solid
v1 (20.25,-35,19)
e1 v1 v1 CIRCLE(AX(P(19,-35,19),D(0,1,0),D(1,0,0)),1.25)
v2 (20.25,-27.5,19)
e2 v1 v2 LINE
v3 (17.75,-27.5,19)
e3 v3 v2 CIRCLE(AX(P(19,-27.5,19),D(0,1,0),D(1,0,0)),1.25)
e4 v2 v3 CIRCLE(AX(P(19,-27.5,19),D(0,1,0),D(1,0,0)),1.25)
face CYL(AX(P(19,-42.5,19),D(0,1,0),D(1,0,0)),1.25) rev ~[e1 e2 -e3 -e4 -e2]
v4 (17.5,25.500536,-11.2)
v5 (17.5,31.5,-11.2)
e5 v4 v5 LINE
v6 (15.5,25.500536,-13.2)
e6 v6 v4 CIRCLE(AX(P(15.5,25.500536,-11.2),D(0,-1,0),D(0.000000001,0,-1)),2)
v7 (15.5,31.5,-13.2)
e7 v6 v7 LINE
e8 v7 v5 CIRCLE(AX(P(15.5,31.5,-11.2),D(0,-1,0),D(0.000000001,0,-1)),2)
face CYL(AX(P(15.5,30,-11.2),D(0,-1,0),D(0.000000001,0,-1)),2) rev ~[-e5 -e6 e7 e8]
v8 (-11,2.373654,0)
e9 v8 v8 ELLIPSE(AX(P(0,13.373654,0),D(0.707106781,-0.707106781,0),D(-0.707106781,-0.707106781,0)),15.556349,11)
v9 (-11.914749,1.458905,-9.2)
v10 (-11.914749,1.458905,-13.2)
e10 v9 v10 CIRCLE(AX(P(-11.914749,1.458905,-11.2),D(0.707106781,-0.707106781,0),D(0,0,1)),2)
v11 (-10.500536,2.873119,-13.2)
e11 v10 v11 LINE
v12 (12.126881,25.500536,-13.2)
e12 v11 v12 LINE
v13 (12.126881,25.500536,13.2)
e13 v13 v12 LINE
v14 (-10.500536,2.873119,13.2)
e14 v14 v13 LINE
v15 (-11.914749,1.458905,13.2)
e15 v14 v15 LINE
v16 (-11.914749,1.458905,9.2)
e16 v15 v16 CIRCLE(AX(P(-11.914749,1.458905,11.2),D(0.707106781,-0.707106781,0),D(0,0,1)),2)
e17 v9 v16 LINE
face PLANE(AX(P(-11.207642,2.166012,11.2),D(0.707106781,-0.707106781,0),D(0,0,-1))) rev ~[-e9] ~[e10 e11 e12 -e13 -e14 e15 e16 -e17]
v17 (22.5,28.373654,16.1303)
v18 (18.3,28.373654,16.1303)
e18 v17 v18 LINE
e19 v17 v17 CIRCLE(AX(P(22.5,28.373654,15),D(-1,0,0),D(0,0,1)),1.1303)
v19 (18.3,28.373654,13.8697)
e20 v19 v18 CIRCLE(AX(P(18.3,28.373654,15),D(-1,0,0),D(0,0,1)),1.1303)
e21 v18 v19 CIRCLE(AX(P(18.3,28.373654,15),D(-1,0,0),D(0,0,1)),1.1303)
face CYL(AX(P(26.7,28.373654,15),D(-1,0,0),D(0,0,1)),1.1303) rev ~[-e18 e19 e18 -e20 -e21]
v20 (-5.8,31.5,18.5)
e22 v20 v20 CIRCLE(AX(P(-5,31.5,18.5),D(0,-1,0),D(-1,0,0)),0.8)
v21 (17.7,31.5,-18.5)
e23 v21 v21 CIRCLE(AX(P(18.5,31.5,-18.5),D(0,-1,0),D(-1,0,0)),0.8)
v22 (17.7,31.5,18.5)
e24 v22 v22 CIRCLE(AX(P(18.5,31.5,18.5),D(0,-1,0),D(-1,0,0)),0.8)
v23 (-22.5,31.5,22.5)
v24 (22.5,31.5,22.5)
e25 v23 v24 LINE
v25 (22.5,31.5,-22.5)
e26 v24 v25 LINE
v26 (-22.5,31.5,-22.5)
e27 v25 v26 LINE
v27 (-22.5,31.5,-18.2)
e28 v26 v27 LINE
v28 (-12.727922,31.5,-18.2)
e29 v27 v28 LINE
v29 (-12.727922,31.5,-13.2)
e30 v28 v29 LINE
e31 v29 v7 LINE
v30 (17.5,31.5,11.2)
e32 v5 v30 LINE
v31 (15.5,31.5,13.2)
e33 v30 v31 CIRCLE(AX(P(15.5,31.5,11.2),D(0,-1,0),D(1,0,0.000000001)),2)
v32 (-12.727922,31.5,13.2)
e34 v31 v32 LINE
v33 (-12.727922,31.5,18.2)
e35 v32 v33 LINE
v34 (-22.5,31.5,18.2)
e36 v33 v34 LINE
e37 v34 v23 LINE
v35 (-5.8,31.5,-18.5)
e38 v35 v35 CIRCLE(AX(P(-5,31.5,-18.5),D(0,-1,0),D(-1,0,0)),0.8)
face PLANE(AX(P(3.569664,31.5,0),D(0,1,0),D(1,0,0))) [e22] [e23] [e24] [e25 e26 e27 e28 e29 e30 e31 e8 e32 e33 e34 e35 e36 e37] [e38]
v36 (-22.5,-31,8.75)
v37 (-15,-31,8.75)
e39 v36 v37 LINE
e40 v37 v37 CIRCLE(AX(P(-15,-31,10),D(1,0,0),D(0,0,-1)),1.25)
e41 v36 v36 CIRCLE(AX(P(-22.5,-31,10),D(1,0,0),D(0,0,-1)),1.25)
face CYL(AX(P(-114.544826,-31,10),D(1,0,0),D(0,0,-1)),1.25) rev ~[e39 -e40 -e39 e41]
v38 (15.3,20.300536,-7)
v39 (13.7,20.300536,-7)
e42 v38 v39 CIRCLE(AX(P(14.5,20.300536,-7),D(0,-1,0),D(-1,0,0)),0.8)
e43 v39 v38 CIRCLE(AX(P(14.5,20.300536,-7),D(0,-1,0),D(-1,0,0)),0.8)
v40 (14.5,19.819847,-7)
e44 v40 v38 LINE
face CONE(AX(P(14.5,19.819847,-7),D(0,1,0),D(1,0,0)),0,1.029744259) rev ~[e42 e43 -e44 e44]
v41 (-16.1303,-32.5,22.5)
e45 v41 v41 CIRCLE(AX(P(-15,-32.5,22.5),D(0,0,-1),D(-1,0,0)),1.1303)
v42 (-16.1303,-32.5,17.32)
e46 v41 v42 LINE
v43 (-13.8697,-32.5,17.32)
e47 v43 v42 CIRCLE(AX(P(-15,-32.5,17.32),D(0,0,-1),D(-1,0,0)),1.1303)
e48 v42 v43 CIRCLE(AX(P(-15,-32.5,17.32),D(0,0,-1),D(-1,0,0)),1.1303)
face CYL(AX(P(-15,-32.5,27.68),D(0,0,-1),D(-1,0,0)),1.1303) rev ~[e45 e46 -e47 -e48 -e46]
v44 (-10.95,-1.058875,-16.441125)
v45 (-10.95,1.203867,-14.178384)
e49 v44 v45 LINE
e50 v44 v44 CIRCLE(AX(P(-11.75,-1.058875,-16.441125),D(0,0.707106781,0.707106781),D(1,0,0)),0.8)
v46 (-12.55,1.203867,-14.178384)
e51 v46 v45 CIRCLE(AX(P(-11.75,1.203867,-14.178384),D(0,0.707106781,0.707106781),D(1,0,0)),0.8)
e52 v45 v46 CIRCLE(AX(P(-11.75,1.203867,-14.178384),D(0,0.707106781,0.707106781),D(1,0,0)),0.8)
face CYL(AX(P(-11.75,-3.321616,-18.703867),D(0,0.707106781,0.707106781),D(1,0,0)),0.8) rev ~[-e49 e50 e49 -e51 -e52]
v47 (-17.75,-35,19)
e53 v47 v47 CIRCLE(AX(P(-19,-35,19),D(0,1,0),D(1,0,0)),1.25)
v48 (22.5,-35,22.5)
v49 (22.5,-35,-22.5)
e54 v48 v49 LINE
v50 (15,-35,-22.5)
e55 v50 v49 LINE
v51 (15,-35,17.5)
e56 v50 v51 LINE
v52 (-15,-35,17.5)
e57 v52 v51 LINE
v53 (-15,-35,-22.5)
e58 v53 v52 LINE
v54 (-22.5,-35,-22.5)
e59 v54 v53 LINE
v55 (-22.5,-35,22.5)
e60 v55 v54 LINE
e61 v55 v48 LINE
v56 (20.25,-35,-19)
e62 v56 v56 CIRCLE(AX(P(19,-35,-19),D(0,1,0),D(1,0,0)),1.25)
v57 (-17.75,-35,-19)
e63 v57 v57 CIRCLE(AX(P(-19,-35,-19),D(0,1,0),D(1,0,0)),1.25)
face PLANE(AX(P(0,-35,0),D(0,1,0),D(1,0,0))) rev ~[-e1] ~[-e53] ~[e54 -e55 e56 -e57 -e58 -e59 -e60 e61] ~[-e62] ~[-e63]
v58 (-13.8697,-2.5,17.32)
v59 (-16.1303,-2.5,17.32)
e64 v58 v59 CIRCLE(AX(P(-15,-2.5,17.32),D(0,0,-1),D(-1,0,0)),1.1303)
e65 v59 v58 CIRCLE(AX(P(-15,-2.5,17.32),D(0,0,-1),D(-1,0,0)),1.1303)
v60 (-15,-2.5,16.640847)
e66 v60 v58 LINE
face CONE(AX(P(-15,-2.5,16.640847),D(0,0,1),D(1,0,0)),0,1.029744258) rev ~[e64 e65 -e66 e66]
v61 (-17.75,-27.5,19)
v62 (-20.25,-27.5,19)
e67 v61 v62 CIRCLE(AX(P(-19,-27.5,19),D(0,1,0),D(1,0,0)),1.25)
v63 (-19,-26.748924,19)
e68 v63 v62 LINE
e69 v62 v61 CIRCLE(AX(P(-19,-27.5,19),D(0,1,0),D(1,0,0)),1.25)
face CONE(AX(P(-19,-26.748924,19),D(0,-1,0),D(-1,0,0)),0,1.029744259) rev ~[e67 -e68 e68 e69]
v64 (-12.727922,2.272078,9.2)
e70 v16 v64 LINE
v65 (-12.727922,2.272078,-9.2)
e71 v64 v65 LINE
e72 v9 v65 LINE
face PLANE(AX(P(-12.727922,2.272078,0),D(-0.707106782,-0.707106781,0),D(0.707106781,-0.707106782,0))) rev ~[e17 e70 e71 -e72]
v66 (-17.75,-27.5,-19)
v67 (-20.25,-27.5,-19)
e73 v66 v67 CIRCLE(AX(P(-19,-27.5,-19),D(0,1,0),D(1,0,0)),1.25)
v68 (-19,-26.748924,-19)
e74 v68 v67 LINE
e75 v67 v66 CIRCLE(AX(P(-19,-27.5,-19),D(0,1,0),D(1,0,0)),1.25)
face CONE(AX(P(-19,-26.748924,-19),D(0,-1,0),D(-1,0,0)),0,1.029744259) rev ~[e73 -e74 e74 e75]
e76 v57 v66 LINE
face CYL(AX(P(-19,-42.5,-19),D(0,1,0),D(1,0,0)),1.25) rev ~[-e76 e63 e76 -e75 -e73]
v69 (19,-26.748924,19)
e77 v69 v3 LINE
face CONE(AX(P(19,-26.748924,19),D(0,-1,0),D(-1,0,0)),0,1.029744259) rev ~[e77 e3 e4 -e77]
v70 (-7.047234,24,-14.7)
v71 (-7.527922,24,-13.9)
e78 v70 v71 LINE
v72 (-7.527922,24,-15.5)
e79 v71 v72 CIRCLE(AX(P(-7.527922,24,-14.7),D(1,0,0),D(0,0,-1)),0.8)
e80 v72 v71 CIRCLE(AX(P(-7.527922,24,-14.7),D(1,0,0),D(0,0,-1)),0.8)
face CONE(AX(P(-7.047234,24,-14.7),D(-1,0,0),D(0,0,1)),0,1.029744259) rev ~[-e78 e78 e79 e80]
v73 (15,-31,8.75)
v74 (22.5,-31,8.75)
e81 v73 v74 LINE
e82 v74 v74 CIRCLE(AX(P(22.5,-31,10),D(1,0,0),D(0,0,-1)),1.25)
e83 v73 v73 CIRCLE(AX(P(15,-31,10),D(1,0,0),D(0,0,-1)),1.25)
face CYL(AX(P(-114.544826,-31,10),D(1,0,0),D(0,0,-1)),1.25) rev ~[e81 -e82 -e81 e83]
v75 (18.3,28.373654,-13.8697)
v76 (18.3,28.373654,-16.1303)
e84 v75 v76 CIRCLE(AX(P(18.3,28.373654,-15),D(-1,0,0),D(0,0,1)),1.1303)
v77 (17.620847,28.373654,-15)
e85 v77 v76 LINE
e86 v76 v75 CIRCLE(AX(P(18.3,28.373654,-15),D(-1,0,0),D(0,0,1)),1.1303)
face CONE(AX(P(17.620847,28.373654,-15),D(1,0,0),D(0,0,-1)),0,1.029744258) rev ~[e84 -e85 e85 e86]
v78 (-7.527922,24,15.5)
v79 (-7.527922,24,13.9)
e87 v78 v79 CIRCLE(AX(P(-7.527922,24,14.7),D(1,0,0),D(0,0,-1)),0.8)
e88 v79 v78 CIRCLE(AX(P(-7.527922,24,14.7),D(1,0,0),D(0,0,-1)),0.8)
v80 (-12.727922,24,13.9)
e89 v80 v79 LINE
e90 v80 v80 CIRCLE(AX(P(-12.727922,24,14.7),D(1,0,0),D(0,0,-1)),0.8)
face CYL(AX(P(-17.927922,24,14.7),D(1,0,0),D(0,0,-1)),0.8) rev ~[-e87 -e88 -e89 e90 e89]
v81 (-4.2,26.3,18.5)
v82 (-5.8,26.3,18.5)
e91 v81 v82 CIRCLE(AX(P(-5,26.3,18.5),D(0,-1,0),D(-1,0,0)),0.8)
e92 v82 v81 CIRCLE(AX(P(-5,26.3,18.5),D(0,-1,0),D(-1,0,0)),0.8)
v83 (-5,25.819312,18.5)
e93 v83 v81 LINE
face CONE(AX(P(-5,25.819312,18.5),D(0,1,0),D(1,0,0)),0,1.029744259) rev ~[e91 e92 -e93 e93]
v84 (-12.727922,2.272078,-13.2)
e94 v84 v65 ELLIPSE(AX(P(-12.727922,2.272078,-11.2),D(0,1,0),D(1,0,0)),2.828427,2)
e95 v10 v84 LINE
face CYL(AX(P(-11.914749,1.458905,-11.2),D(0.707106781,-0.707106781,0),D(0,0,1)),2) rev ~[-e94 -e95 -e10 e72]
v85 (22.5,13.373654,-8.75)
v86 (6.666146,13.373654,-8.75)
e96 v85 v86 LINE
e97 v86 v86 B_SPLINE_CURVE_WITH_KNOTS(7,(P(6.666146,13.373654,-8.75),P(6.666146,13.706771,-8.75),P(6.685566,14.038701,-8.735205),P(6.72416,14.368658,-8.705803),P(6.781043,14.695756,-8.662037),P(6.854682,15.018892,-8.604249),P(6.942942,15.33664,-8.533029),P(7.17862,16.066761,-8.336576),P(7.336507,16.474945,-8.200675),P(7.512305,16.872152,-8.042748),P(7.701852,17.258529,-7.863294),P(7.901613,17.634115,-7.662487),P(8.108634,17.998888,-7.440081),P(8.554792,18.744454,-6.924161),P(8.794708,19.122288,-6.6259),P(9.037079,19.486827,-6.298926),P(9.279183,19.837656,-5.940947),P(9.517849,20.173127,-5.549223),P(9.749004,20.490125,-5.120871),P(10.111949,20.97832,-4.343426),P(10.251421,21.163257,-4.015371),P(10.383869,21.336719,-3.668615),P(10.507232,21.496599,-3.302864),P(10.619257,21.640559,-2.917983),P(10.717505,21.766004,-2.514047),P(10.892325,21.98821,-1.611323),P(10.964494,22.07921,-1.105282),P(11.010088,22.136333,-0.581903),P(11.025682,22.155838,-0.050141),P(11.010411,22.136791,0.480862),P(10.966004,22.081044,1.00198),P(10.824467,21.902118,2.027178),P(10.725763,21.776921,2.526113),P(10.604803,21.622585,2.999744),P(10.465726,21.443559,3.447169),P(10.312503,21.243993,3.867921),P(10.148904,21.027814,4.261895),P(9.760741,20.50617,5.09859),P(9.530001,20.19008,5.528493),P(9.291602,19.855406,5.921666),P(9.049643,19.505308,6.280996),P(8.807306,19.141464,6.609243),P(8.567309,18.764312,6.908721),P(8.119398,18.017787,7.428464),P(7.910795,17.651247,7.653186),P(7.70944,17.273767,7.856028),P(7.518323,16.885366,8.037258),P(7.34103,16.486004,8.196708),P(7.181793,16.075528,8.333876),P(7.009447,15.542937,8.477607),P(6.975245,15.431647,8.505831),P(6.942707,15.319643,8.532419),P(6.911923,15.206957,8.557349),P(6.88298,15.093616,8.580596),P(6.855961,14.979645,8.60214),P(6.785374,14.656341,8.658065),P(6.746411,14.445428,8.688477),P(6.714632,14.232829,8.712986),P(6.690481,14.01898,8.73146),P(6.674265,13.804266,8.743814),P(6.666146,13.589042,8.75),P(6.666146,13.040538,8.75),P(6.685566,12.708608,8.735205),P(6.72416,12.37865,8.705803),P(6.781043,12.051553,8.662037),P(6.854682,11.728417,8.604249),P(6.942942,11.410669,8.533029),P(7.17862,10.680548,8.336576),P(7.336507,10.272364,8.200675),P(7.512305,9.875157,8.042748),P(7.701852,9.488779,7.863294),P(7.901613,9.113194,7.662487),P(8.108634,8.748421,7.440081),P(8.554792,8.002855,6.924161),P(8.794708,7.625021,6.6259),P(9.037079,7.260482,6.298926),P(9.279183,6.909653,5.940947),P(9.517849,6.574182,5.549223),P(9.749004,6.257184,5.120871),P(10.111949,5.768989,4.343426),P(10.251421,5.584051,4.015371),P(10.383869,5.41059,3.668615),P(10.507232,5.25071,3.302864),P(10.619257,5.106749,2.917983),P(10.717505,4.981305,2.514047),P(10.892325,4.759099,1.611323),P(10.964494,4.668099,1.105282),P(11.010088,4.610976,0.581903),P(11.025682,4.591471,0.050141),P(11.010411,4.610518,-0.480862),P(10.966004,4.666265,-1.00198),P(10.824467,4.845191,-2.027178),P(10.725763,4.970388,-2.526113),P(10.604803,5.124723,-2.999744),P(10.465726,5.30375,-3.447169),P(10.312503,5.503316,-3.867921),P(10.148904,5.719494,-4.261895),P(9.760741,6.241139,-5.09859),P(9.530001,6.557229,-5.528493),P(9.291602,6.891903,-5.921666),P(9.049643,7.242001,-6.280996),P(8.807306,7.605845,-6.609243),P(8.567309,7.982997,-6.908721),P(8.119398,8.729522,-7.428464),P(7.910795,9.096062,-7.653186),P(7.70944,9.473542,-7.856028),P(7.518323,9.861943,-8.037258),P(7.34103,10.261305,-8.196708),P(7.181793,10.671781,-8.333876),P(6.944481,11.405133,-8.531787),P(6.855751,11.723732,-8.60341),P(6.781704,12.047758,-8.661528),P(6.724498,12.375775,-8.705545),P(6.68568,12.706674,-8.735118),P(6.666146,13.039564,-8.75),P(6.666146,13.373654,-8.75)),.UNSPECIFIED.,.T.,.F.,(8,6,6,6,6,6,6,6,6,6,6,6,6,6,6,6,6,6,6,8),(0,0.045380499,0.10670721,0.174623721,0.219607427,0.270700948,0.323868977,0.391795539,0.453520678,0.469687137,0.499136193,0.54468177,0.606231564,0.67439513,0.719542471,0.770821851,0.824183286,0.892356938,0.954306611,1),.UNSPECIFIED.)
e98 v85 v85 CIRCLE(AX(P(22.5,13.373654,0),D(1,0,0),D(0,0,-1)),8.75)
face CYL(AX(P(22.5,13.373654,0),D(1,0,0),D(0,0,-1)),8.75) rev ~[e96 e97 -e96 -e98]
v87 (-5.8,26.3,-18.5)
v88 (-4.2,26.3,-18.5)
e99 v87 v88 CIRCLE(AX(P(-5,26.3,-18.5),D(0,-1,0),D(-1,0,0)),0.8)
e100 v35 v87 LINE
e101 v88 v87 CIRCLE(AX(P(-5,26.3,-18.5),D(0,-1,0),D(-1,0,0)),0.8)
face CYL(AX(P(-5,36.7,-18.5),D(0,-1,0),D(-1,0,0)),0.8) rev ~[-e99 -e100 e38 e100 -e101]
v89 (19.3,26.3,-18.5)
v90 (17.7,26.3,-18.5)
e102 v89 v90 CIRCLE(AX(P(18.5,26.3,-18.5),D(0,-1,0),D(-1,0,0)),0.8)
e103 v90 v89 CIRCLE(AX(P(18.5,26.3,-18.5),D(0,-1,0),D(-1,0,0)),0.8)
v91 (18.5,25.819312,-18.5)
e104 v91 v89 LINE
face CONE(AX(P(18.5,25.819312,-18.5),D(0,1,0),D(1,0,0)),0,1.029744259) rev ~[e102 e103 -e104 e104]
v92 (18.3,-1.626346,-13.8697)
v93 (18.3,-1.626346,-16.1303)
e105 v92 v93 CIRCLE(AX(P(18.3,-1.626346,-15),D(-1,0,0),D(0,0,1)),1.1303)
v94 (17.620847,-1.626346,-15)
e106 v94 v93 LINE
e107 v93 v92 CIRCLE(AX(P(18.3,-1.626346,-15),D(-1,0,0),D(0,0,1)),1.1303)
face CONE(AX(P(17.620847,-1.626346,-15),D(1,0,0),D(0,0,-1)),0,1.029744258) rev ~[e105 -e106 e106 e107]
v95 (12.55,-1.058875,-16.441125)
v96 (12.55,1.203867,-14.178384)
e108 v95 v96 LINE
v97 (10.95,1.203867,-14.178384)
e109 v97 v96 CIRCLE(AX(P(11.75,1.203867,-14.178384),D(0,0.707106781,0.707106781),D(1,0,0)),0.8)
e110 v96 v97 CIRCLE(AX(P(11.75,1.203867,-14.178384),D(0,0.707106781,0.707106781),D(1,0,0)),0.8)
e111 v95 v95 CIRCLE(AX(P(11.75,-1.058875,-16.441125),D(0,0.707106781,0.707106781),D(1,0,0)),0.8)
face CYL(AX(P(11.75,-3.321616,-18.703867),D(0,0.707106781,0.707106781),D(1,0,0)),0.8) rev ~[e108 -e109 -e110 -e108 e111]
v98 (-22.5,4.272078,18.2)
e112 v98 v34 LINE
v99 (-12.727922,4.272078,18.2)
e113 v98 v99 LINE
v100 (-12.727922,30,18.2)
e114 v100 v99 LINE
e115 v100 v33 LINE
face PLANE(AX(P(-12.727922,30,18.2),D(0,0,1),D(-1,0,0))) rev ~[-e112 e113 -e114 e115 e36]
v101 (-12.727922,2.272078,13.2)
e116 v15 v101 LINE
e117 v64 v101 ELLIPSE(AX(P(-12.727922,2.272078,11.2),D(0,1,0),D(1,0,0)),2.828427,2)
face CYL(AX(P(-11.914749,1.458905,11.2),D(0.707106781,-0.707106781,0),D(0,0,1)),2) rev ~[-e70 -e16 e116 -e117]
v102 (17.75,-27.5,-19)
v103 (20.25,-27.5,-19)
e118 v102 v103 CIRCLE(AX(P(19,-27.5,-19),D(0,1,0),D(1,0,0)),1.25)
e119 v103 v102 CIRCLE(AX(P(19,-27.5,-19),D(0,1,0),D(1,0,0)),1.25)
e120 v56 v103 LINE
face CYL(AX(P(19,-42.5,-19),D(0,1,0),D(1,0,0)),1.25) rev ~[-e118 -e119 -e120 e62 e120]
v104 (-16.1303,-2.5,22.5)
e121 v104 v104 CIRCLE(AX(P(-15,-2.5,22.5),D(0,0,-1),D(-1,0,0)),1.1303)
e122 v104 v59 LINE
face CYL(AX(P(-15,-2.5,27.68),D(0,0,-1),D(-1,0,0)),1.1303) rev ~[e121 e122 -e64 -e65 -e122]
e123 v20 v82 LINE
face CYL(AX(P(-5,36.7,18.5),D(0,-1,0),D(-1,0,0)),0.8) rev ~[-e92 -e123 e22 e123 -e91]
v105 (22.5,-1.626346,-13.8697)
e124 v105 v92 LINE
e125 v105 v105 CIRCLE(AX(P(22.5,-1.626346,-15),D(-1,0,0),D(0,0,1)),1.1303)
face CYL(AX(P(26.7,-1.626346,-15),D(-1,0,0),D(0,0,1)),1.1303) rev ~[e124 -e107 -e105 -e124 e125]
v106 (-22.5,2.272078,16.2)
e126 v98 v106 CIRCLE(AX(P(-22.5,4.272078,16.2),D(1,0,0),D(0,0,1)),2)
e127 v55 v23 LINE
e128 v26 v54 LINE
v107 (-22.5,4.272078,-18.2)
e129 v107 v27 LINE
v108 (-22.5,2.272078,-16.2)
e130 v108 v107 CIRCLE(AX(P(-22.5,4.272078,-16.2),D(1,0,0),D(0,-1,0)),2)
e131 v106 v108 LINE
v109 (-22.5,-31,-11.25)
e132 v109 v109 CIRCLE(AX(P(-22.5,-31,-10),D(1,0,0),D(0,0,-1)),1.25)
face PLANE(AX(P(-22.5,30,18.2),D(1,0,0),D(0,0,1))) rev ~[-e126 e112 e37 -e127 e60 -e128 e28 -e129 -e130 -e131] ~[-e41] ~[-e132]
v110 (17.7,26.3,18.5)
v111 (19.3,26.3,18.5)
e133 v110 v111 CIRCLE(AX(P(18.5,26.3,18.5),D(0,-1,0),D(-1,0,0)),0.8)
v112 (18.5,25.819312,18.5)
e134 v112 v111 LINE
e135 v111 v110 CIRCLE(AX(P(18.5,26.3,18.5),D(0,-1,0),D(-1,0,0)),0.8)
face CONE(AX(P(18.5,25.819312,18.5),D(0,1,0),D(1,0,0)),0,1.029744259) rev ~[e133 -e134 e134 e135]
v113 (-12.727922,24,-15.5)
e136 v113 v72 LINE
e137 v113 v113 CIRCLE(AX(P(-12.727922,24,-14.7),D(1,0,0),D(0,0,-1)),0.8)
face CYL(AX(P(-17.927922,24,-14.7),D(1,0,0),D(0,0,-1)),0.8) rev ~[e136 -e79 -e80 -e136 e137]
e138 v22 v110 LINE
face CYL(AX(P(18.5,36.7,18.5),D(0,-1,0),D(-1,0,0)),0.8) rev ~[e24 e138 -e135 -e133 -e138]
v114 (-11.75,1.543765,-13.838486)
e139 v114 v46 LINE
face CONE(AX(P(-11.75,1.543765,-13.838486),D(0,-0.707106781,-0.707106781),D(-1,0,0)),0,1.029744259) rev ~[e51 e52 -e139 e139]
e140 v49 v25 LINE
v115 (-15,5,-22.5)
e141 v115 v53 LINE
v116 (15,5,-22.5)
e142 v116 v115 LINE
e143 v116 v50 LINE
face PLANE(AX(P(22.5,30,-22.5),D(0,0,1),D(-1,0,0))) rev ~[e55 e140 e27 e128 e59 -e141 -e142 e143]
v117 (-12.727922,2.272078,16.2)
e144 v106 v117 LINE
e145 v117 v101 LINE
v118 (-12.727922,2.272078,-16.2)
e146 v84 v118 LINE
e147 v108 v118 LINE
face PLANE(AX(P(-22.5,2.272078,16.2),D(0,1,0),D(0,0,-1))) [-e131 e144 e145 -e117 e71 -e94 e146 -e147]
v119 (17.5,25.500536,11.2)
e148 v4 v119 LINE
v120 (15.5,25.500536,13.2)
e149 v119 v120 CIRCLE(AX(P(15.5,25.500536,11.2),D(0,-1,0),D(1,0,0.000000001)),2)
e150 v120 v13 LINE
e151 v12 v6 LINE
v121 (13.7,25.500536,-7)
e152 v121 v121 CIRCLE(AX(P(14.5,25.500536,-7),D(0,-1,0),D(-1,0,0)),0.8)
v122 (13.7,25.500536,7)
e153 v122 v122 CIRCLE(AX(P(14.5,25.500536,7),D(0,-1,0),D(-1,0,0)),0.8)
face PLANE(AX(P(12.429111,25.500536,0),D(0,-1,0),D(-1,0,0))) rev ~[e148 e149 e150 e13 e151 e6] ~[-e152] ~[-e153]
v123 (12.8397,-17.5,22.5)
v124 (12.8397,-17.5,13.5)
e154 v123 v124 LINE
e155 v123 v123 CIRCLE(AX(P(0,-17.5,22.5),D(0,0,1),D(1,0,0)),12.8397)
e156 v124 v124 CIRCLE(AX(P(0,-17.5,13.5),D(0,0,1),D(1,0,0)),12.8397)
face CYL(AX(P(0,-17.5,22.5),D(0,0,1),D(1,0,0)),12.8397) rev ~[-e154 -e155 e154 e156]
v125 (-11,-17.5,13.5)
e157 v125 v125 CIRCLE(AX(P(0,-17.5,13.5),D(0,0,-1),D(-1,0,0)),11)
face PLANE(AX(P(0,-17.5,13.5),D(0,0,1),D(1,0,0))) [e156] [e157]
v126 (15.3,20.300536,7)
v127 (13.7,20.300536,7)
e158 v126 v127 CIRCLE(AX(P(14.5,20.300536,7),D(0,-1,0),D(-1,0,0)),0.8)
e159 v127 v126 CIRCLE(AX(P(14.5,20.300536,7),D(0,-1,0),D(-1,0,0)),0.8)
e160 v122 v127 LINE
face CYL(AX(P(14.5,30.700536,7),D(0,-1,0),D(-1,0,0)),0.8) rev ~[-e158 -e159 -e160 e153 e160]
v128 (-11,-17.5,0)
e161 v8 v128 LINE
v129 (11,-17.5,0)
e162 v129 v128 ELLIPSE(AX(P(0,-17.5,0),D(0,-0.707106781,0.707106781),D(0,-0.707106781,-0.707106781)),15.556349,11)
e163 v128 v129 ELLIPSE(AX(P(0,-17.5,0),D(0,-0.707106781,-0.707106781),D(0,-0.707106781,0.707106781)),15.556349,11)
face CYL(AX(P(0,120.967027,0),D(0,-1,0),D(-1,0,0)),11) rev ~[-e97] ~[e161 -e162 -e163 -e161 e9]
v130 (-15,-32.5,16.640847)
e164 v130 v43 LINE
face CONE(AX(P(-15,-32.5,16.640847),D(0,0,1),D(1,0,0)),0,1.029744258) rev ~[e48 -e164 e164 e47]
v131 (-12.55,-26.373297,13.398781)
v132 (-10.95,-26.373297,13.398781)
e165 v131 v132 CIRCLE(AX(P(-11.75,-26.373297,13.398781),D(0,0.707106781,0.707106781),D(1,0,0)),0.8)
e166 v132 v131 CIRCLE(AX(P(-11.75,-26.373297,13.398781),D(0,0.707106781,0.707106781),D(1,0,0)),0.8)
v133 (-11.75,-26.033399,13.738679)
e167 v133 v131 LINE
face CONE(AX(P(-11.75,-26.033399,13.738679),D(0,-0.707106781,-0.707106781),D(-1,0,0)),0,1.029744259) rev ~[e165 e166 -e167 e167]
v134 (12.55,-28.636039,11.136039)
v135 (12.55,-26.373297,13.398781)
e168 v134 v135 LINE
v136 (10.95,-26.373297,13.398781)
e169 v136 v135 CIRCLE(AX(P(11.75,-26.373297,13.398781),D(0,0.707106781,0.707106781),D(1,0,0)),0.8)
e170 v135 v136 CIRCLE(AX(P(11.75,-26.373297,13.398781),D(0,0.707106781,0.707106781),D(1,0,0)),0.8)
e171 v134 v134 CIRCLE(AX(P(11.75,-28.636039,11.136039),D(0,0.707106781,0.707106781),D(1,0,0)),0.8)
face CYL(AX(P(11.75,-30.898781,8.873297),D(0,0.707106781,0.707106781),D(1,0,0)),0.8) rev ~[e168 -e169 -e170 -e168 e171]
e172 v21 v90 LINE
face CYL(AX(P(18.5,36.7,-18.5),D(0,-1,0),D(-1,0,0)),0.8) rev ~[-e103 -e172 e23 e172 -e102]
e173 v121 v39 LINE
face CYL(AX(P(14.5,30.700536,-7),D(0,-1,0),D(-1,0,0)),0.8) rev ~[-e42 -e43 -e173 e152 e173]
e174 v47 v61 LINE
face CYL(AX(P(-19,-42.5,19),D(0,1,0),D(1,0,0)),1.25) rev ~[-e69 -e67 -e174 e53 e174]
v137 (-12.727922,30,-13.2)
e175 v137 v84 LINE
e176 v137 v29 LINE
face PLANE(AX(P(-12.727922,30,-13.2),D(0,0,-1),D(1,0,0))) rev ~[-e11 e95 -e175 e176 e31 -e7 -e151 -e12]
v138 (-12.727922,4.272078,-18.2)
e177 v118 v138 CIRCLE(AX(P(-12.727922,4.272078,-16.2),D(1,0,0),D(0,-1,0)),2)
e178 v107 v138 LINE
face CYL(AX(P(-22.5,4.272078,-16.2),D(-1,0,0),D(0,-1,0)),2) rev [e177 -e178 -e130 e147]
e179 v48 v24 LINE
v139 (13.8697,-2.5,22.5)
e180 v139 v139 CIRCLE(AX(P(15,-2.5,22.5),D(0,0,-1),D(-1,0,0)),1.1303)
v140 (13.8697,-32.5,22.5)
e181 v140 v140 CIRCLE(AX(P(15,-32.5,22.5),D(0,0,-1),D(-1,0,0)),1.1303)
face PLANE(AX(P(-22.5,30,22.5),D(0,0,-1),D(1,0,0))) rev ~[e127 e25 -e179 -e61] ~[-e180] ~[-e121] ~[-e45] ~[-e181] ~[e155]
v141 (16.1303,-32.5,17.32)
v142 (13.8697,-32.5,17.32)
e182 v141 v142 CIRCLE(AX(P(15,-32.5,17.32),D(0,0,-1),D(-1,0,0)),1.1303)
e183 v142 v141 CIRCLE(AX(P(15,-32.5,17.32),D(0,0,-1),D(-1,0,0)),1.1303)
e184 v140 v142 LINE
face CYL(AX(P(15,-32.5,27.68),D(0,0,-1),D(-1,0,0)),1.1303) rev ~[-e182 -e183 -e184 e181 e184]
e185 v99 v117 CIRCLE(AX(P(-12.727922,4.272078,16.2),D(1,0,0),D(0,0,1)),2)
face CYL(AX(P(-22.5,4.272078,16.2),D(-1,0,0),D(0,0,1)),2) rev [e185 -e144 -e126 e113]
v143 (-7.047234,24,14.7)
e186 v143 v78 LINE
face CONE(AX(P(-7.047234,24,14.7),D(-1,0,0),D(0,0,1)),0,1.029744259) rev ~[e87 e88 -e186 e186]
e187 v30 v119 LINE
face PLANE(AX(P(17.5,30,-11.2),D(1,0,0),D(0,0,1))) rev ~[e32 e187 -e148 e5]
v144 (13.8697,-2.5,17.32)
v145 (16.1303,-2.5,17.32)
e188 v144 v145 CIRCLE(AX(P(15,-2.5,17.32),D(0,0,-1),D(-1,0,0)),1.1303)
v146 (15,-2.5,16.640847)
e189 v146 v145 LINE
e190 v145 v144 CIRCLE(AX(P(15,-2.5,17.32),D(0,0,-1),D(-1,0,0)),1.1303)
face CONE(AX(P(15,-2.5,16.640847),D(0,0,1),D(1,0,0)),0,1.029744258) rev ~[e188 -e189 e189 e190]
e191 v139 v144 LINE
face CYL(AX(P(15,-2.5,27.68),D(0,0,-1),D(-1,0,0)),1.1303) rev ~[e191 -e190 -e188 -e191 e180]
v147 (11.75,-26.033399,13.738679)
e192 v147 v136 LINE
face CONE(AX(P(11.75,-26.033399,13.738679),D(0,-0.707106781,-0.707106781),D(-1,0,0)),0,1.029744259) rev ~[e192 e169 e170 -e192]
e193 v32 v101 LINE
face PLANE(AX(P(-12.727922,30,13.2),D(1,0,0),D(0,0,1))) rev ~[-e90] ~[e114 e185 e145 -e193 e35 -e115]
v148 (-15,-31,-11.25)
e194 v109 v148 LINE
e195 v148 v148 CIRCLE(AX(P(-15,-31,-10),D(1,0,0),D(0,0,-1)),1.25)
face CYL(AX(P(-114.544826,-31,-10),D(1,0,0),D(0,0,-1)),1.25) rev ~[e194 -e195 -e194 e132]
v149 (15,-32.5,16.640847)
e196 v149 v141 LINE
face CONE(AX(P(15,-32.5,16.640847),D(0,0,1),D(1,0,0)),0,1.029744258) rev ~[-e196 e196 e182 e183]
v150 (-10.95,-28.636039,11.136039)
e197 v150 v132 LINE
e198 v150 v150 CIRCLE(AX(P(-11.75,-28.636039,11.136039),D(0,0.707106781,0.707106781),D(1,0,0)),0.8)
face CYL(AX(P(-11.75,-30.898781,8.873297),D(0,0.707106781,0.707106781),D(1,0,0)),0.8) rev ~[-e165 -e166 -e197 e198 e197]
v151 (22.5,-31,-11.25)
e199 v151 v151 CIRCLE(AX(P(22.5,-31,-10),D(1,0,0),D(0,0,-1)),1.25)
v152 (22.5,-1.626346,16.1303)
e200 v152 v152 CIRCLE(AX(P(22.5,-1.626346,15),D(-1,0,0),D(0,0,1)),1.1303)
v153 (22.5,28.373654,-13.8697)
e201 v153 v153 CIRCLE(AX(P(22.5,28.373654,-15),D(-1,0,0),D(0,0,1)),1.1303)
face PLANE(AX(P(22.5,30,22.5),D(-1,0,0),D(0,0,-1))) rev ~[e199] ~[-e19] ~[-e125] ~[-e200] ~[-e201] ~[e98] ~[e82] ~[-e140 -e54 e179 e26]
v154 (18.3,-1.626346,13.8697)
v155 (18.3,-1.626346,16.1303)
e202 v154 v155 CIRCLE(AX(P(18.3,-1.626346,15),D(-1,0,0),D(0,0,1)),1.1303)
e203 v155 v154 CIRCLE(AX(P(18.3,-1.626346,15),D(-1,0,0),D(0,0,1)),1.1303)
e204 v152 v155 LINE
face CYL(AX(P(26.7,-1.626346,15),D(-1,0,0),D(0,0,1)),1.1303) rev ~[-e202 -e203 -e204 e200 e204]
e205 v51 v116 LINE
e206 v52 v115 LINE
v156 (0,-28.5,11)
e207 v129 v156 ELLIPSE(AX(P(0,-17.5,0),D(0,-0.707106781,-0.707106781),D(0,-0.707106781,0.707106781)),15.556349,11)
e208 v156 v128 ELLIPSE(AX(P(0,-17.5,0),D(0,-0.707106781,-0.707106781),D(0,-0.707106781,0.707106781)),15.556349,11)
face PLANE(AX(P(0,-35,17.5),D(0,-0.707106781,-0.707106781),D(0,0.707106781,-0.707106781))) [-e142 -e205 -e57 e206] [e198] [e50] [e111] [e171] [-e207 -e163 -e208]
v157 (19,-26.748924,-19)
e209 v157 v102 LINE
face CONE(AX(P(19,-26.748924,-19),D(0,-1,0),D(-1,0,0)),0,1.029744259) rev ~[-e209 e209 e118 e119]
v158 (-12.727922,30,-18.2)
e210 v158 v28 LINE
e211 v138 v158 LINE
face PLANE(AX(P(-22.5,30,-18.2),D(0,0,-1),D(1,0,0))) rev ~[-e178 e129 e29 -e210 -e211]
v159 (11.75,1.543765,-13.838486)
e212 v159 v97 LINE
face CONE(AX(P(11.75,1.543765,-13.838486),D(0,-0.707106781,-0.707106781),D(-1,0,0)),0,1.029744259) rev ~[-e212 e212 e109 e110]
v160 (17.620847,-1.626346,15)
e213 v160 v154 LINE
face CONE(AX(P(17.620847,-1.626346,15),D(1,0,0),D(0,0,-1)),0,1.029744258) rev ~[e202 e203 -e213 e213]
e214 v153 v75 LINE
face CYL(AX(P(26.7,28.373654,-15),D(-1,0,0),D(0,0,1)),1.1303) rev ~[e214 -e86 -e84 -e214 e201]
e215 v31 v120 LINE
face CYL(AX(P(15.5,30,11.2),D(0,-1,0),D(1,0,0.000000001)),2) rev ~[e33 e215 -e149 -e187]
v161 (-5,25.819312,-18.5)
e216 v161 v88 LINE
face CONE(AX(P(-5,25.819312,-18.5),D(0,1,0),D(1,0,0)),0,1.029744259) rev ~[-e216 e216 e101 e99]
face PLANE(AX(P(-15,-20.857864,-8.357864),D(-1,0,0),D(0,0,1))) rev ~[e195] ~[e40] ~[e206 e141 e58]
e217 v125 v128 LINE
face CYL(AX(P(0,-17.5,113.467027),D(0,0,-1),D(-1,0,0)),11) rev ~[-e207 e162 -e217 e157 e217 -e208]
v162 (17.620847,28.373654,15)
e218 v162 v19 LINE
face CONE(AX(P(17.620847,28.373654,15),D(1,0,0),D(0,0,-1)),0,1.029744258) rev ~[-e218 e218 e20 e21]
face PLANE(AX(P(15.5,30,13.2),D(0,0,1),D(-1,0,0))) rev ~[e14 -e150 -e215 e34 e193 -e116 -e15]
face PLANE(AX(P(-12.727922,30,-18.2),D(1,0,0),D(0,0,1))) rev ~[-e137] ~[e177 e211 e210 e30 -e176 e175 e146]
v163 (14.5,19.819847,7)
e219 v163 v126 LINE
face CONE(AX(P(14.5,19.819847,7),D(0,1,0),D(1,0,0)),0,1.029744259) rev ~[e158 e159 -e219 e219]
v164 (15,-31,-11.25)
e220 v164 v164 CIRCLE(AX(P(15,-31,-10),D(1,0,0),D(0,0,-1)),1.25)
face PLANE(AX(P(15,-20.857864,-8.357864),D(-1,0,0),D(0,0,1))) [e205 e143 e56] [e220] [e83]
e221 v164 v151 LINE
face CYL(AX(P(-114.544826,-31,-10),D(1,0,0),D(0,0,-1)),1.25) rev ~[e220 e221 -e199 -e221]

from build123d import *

# Parameters (mm, degrees)
SKETCH1_W                  = 45
SKETCH1_H                  = 45
BOSS_EXTRUDE1_DEPTH        = 30
BOSS_EXTRUDE1_DEPTH_BACK   = 35
F_22_0_22_DIAMETER_HOLE1_D = 22
F_22_0_22_DIAMETER_HOLE2_D = 22
SKETCH7_R                  = 12.8397
CUT_EXTRUDE1_DEPTH         = 9
CUT_EXTRUDE2_DEPTH         = 13.2
CUT_EXTRUDE3_REACH         = 29.667
SKETCH9_W                  = 26.4
SKETCH9_H                  = 36
FILLET1_R                  = 2
CUT_EXTRUDE6_REACH         = 29.667
CUT_EXTRUDE4_DEPTH         = 4.499464
CUT_EXTRUDE5_DEPTH         = 9.772078
CUT_EXTRUDE7_DEPTH         = 15
BOSS_EXTRUDE2_DEPTH        = 1.5
M2_TAPPED_HOLE1_D          = 1.6
M2_TAPPED_HOLE1_DEPTH      = 3.2
M2_TAPPED_HOLE1_TIP        = 0.480688495
M2_TAPPED_HOLE2_D          = 1.6
M2_TAPPED_HOLE2_DEPTH      = 5.2
M2_TAPPED_HOLE2_TIP        = 0.480688495
M2_TAPPED_HOLE3_D          = 1.6
M2_TAPPED_HOLE3_DEPTH      = 5.2
M2_TAPPED_HOLE3_TIP        = 0.480688495
M3_TAPPED_HOLE1_D          = 2.5
M3_TAPPED_HOLE2_D          = 2.5
M3_TAPPED_HOLE2_DEPTH      = 7.5
M3_TAPPED_HOLE2_TIP        = 0.751075774
M2_TAPPED_HOLE4_D          = 1.6
M2_TAPPED_HOLE4_DEPTH      = 5.2
M2_TAPPED_HOLE4_TIP        = 0.480688495
CUT_EXTRUDE8_REACH         = 47
SKETCH30_R                 = 8.75
F_4_40_TAPPED_HOLE1_D      = 2.2606
F_4_40_TAPPED_HOLE1_DEPTH  = 4.2
F_4_40_TAPPED_HOLE1_TIP    = 0.679152758
F_4_40_TAPPED_HOLE2_D      = 2.2606
F_4_40_TAPPED_HOLE2_DEPTH  = 5.18
F_4_40_TAPPED_HOLE2_TIP    = 0.679152758


with BuildPart() as part:
    # Sketch1 → Boss-Extrude1 (new body, two sides)
    with BuildSketch(Plane(origin=(0, 0, 0), x_dir=(1, 0, 0), z_dir=(0, 1, 0))) as boss_extrude1_sk:
        Rectangle(SKETCH1_W, SKETCH1_H)
    extrude(amount=BOSS_EXTRUDE1_DEPTH)
    extrude(boss_extrude1_sk.sketch, amount=-BOSS_EXTRUDE1_DEPTH_BACK)

    # Ø22.0 (22) Diameter Hole1 (through all)
    with Locations(Plane(origin=(0, 30, 0), x_dir=(1, 0, 0), z_dir=(0, 1, 0))):
        with Locations((0, 0)):
            Hole(F_22_0_22_DIAMETER_HOLE1_D / 2)

    # Ø22.0 (22) Diameter Hole2 (through all)
    with Locations(Plane.XY.offset(22.5)):
        with Locations((0, -17.5)):
            Hole(F_22_0_22_DIAMETER_HOLE2_D / 2)

    # Sketch7 → Cut-Extrude1 (cut)
    with BuildSketch(Plane.XY.offset(22.5)):
        with Locations((0, -17.5)):
            Circle(SKETCH7_R)
    extrude(amount=-CUT_EXTRUDE1_DEPTH, mode=Mode.SUBTRACT)

    # Sketch8 → Cut-Extrude2 (cut, symmetric)
    with BuildSketch(Plane.XY):
        Polygon((-12.727922061, 2.272077939), (-11.914749263, 1.45890514), (13.54109486, 26.914749263), (12.727922061, 27.727922061), align=None)
    extrude(amount=CUT_EXTRUDE2_DEPTH, both=True, mode=Mode.SUBTRACT)

    # Sketch9 → Cut-Extrude3 (cut, up to next)
    with BuildSketch(Plane(origin=(-6.686827202, 6.686827202, 0), x_dir=(0, 0, 1), z_dir=(-0.707106781, 0.707106781, 0)), mode=Mode.PRIVATE) as cut_extrude3_sk1:
        with Locations((0, 10.606601718)):
            Rectangle(SKETCH9_W, SKETCH9_H)
    cut_extrude3_tool1 = extrude(cut_extrude3_sk1.sketch, amount=CUT_EXTRUDE3_REACH, mode=Mode.PRIVATE) & part.part
    add(cut_extrude3_tool1.solids().sort_by_distance((0.813173, 14.186827, 0))[0], mode=Mode.SUBTRACT)

    # Fillet1
    fillet1_edges = [part.edges().sort_by_distance(p)[0] for p in [
        (11.998469491, 28.457374631, -13.2),
        (-17.207374631, 6.751530509, -13.2),
        (-17.207374631, 6.751530509, 13.2),
        (11.998469491, 28.457374631, 13.2),
    ]]
    fillet(fillet1_edges, radius=FILLET1_R)

    # Sketch12 → Cut-Extrude6 (cut, up to next)
    with BuildSketch(Plane(origin=(-6.686827202, 6.686827202, 0), x_dir=(0, 0, 1), z_dir=(-0.707106781, 0.707106781, 0)), mode=Mode.PRIVATE) as cut_extrude6_sk1:
        with BuildLine():
            Line((-9.2, -5.393398282), (-9.2, -7.393398282))
            ThreePointArc((-9.2, -7.393398282), (-11.2, -9.393398282), (-13.2, -7.393398282))
            Line((-13.2, -7.393398282), (-13.2, -5.393398282))
            ThreePointArc((-13.2, -5.393398282), (-11.2, -3.393398282), (-9.2, -5.393398282))
        make_face()
    cut_extrude6_tool1 = extrude(cut_extrude6_sk1.sketch, amount=CUT_EXTRUDE6_REACH, mode=Mode.PRIVATE) & part.part
    add(cut_extrude6_tool1.solids().sort_by_distance((-11.207642, 2.166012, -11.2))[0], mode=Mode.SUBTRACT)
    # Sketch12 → Cut-Extrude6 (cut, up to next)
    with BuildSketch(Plane(origin=(-6.686827202, 6.686827202, 0), x_dir=(0, 0, 1), z_dir=(-0.707106781, 0.707106781, 0)), mode=Mode.PRIVATE) as cut_extrude6_sk2:
        with BuildLine():
            Line((13.2, -5.393398282), (13.2, -7.393398282))
            ThreePointArc((13.2, -7.393398282), (11.2, -9.393398282), (9.2, -7.393398282))
            Line((9.2, -7.393398282), (9.2, -5.393398282))
            ThreePointArc((9.2, -5.393398282), (11.2, -3.393398282), (13.2, -5.393398282))
        make_face()
    cut_extrude6_tool2 = extrude(cut_extrude6_sk2.sketch, amount=CUT_EXTRUDE6_REACH, mode=Mode.PRIVATE) & part.part
    add(cut_extrude6_tool2.solids().sort_by_distance((-11.207642, 2.166012, 11.2))[0], mode=Mode.SUBTRACT)

    # Sketch10 → Cut-Extrude4 (cut)
    with BuildSketch(Plane(origin=(0, 30, 0), x_dir=(1, 0, 0), z_dir=(0, 1, 0))):
        with BuildLine():
            Line((7.627416998, 13.2), (15.5, 13.2))
            ThreePointArc((15.5, 13.2), (16.914213562, 12.614213562), (17.5, 11.2))
            Line((17.5, 11.2), (17.5, -11.2))
            ThreePointArc((17.5, -11.2), (16.914213562, -12.614213562), (15.5, -13.2))
            Line((15.5, -13.2), (7.627416998, -13.2))
            Line((7.627416998, -13.2), (7.627416998, 13.2))
        make_face()
    extrude(amount=-CUT_EXTRUDE4_DEPTH, mode=Mode.SUBTRACT)

    # Sketch11 → Cut-Extrude5 (cut)
    with BuildSketch(Plane.ZY.offset(22.5)):
        with BuildLine():
            Line((-18.2, 30), (18.2, 30))
            Line((18.2, 30), (18.2, 4.272077939))
            ThreePointArc((18.2, 4.272077939), (17.614213562, 2.857864376), (16.2, 2.272077939))
            Line((16.2, 2.272077939), (-16.2, 2.272077939))
            ThreePointArc((-16.2, 2.272077939), (-17.614213562, 2.857864376), (-18.2, 4.272077939))
            Line((-18.2, 4.272077939), (-18.2, 30))
        make_face()
    extrude(amount=-CUT_EXTRUDE5_DEPTH, mode=Mode.SUBTRACT)

    # Sketch13 → Cut-Extrude7 (cut, symmetric)
    with BuildSketch(Plane(origin=(0, 0, 0), x_dir=(0, 0, -1), z_dir=(1, 0, 0))):
        Polygon((-17.5, -35), (22.5, 5), (22.5, -35), align=None)
    extrude(amount=CUT_EXTRUDE7_DEPTH, both=True, mode=Mode.SUBTRACT)

    # Sketch18 → Boss-Extrude2 (add)
    with BuildSketch(Plane(origin=(0, 30, 0), x_dir=(1, 0, 0), z_dir=(0, 1, 0))):
        with BuildLine():
            Line((-12.727922061, -13.2), (-12.727922061, -18.2))
            Line((-12.727922061, -18.2), (-22.5, -18.2))
            Line((-22.5, -18.2), (-22.5, -22.5))
            Line((-22.5, -22.5), (22.5, -22.5))
            Line((22.5, -22.5), (22.5, 22.5))
            Line((22.5, 22.5), (-22.5, 22.5))
            Line((-22.5, 22.5), (-22.5, 18.2))
            Line((-22.5, 18.2), (-12.727922061, 18.2))
            Line((-12.727922061, 18.2), (-12.727922061, 13.2))
            Line((-12.727922061, 13.2), (15.5, 13.2))
            ThreePointArc((15.5, 13.2), (16.914213562, 12.614213562), (17.5, 11.2))
            Line((17.5, 11.2), (17.5, -11.2))
            ThreePointArc((17.5, -11.2), (16.914213562, -12.614213562), (15.5, -13.2))
            Line((15.5, -13.2), (-12.727922061, -13.2))
        make_face()
    extrude(amount=BOSS_EXTRUDE2_DEPTH)

    # M2 Tapped Hole1
    with Locations(Plane(origin=(0, -8.75, -8.75), x_dir=(-1, 0, 0), z_dir=(0, -0.707106781, -0.707106781))):
        with Locations((11.75, -28.123106012), (11.75, 10.876893988), (-11.75, 10.876893988), (-11.75, -28.123106012)):
            Hole(M2_TAPPED_HOLE1_D / 2, depth=M2_TAPPED_HOLE1_DEPTH)
            with Locations((0, 0, -(M2_TAPPED_HOLE1_DEPTH + M2_TAPPED_HOLE1_TIP / 2))):  # 118° drill point
                Cone(0, M2_TAPPED_HOLE1_D / 2, M2_TAPPED_HOLE1_TIP, mode=Mode.SUBTRACT)

    # M2 Tapped Hole2
    with Locations(Plane(origin=(0, 25.500535701, 0), x_dir=(1, 0, 0), z_dir=(0, 1, 0))):
        with Locations((14.5, 7), (14.5, -7)):
            Hole(M2_TAPPED_HOLE2_D / 2, depth=M2_TAPPED_HOLE2_DEPTH)
            with Locations((0, 0, -(M2_TAPPED_HOLE2_DEPTH + M2_TAPPED_HOLE2_TIP / 2))):  # 118° drill point
                Cone(0, M2_TAPPED_HOLE2_D / 2, M2_TAPPED_HOLE2_TIP, mode=Mode.SUBTRACT)

    # M2 Tapped Hole3
    with Locations(Plane(origin=(0, 31.5, 0), x_dir=(1, 0, 0), z_dir=(0, 1, 0))):
        with Locations((-5, 18.5), (18.5, 18.5), (-5, -18.5), (18.5, -18.5)):
            Hole(M2_TAPPED_HOLE3_D / 2, depth=M2_TAPPED_HOLE3_DEPTH)
            with Locations((0, 0, -(M2_TAPPED_HOLE3_DEPTH + M2_TAPPED_HOLE3_TIP / 2))):  # 118° drill point
                Cone(0, M2_TAPPED_HOLE3_D / 2, M2_TAPPED_HOLE3_TIP, mode=Mode.SUBTRACT)

    # M3 Tapped Hole1 (through all)
    with Locations(Plane.ZY.offset(22.5)):
        with Locations((-10, -31), (10, -31)):
            Hole(M3_TAPPED_HOLE1_D / 2)

    # M3 Tapped Hole2
    with Locations(Plane(origin=(0, -35, 0), x_dir=(-1, 0, 0), z_dir=(0, -1, 0))):
        with Locations((-19, -19), (19, 19), (19, -19), (-19, 19)):
            Hole(M3_TAPPED_HOLE2_D / 2, depth=M3_TAPPED_HOLE2_DEPTH)
            with Locations((0, 0, -(M3_TAPPED_HOLE2_DEPTH + M3_TAPPED_HOLE2_TIP / 2))):  # 118° drill point
                Cone(0, M3_TAPPED_HOLE2_D / 2, M3_TAPPED_HOLE2_TIP, mode=Mode.SUBTRACT)

    # M2 Tapped Hole4
    with Locations(Plane.ZY.offset(12.727922061)):
        with Locations((-14.7, 24), (14.7, 24)):
            Hole(M2_TAPPED_HOLE4_D / 2, depth=M2_TAPPED_HOLE4_DEPTH)
            with Locations((0, 0, -(M2_TAPPED_HOLE4_DEPTH + M2_TAPPED_HOLE4_TIP / 2))):  # 118° drill point
                Cone(0, M2_TAPPED_HOLE4_D / 2, M2_TAPPED_HOLE4_TIP, mode=Mode.SUBTRACT)

    # Sketch30 → Cut-Extrude8 (cut, up to next)
    with BuildSketch(Plane(origin=(22.5, 0, 0), x_dir=(0, 0, -1), z_dir=(1, 0, 0)), mode=Mode.PRIVATE) as cut_extrude8_sk1:
        with Locations((0, 13.373654403)):
            Circle(SKETCH30_R)
    cut_extrude8_tool1 = extrude(cut_extrude8_sk1.sketch, amount=-CUT_EXTRUDE8_REACH, mode=Mode.PRIVATE) & part.part
    add(cut_extrude8_tool1.solids().sort_by_distance((22.5, 13.373654, 0))[0], mode=Mode.SUBTRACT)

    # #4-40 Tapped Hole1
    with Locations(Plane(origin=(22.5, 0, 0), x_dir=(0, 0, -1), z_dir=(1, 0, 0))):
        with Locations((-15, 28.373654403), (-15, -1.626345597), (15, -1.626345597), (15, 28.373654403)):
            Hole(F_4_40_TAPPED_HOLE1_D / 2, depth=F_4_40_TAPPED_HOLE1_DEPTH)
            with Locations((0, 0, -(F_4_40_TAPPED_HOLE1_DEPTH + F_4_40_TAPPED_HOLE1_TIP / 2))):  # 118° drill point
                Cone(0, F_4_40_TAPPED_HOLE1_D / 2, F_4_40_TAPPED_HOLE1_TIP, mode=Mode.SUBTRACT)

    # #4-40 Tapped Hole2
    with Locations(Plane.XY.offset(22.5)):
        with Locations((-15, -2.5), (15, -2.5), (-15, -32.5), (15, -32.5)):
            Hole(F_4_40_TAPPED_HOLE2_D / 2, depth=F_4_40_TAPPED_HOLE2_DEPTH)
            with Locations((0, 0, -(F_4_40_TAPPED_HOLE2_DEPTH + F_4_40_TAPPED_HOLE2_TIP / 2))):  # 118° drill point
                Cone(0, F_4_40_TAPPED_HOLE2_D / 2, F_4_40_TAPPED_HOLE2_TIP, mode=Mode.SUBTRACT)


solid = part.part
